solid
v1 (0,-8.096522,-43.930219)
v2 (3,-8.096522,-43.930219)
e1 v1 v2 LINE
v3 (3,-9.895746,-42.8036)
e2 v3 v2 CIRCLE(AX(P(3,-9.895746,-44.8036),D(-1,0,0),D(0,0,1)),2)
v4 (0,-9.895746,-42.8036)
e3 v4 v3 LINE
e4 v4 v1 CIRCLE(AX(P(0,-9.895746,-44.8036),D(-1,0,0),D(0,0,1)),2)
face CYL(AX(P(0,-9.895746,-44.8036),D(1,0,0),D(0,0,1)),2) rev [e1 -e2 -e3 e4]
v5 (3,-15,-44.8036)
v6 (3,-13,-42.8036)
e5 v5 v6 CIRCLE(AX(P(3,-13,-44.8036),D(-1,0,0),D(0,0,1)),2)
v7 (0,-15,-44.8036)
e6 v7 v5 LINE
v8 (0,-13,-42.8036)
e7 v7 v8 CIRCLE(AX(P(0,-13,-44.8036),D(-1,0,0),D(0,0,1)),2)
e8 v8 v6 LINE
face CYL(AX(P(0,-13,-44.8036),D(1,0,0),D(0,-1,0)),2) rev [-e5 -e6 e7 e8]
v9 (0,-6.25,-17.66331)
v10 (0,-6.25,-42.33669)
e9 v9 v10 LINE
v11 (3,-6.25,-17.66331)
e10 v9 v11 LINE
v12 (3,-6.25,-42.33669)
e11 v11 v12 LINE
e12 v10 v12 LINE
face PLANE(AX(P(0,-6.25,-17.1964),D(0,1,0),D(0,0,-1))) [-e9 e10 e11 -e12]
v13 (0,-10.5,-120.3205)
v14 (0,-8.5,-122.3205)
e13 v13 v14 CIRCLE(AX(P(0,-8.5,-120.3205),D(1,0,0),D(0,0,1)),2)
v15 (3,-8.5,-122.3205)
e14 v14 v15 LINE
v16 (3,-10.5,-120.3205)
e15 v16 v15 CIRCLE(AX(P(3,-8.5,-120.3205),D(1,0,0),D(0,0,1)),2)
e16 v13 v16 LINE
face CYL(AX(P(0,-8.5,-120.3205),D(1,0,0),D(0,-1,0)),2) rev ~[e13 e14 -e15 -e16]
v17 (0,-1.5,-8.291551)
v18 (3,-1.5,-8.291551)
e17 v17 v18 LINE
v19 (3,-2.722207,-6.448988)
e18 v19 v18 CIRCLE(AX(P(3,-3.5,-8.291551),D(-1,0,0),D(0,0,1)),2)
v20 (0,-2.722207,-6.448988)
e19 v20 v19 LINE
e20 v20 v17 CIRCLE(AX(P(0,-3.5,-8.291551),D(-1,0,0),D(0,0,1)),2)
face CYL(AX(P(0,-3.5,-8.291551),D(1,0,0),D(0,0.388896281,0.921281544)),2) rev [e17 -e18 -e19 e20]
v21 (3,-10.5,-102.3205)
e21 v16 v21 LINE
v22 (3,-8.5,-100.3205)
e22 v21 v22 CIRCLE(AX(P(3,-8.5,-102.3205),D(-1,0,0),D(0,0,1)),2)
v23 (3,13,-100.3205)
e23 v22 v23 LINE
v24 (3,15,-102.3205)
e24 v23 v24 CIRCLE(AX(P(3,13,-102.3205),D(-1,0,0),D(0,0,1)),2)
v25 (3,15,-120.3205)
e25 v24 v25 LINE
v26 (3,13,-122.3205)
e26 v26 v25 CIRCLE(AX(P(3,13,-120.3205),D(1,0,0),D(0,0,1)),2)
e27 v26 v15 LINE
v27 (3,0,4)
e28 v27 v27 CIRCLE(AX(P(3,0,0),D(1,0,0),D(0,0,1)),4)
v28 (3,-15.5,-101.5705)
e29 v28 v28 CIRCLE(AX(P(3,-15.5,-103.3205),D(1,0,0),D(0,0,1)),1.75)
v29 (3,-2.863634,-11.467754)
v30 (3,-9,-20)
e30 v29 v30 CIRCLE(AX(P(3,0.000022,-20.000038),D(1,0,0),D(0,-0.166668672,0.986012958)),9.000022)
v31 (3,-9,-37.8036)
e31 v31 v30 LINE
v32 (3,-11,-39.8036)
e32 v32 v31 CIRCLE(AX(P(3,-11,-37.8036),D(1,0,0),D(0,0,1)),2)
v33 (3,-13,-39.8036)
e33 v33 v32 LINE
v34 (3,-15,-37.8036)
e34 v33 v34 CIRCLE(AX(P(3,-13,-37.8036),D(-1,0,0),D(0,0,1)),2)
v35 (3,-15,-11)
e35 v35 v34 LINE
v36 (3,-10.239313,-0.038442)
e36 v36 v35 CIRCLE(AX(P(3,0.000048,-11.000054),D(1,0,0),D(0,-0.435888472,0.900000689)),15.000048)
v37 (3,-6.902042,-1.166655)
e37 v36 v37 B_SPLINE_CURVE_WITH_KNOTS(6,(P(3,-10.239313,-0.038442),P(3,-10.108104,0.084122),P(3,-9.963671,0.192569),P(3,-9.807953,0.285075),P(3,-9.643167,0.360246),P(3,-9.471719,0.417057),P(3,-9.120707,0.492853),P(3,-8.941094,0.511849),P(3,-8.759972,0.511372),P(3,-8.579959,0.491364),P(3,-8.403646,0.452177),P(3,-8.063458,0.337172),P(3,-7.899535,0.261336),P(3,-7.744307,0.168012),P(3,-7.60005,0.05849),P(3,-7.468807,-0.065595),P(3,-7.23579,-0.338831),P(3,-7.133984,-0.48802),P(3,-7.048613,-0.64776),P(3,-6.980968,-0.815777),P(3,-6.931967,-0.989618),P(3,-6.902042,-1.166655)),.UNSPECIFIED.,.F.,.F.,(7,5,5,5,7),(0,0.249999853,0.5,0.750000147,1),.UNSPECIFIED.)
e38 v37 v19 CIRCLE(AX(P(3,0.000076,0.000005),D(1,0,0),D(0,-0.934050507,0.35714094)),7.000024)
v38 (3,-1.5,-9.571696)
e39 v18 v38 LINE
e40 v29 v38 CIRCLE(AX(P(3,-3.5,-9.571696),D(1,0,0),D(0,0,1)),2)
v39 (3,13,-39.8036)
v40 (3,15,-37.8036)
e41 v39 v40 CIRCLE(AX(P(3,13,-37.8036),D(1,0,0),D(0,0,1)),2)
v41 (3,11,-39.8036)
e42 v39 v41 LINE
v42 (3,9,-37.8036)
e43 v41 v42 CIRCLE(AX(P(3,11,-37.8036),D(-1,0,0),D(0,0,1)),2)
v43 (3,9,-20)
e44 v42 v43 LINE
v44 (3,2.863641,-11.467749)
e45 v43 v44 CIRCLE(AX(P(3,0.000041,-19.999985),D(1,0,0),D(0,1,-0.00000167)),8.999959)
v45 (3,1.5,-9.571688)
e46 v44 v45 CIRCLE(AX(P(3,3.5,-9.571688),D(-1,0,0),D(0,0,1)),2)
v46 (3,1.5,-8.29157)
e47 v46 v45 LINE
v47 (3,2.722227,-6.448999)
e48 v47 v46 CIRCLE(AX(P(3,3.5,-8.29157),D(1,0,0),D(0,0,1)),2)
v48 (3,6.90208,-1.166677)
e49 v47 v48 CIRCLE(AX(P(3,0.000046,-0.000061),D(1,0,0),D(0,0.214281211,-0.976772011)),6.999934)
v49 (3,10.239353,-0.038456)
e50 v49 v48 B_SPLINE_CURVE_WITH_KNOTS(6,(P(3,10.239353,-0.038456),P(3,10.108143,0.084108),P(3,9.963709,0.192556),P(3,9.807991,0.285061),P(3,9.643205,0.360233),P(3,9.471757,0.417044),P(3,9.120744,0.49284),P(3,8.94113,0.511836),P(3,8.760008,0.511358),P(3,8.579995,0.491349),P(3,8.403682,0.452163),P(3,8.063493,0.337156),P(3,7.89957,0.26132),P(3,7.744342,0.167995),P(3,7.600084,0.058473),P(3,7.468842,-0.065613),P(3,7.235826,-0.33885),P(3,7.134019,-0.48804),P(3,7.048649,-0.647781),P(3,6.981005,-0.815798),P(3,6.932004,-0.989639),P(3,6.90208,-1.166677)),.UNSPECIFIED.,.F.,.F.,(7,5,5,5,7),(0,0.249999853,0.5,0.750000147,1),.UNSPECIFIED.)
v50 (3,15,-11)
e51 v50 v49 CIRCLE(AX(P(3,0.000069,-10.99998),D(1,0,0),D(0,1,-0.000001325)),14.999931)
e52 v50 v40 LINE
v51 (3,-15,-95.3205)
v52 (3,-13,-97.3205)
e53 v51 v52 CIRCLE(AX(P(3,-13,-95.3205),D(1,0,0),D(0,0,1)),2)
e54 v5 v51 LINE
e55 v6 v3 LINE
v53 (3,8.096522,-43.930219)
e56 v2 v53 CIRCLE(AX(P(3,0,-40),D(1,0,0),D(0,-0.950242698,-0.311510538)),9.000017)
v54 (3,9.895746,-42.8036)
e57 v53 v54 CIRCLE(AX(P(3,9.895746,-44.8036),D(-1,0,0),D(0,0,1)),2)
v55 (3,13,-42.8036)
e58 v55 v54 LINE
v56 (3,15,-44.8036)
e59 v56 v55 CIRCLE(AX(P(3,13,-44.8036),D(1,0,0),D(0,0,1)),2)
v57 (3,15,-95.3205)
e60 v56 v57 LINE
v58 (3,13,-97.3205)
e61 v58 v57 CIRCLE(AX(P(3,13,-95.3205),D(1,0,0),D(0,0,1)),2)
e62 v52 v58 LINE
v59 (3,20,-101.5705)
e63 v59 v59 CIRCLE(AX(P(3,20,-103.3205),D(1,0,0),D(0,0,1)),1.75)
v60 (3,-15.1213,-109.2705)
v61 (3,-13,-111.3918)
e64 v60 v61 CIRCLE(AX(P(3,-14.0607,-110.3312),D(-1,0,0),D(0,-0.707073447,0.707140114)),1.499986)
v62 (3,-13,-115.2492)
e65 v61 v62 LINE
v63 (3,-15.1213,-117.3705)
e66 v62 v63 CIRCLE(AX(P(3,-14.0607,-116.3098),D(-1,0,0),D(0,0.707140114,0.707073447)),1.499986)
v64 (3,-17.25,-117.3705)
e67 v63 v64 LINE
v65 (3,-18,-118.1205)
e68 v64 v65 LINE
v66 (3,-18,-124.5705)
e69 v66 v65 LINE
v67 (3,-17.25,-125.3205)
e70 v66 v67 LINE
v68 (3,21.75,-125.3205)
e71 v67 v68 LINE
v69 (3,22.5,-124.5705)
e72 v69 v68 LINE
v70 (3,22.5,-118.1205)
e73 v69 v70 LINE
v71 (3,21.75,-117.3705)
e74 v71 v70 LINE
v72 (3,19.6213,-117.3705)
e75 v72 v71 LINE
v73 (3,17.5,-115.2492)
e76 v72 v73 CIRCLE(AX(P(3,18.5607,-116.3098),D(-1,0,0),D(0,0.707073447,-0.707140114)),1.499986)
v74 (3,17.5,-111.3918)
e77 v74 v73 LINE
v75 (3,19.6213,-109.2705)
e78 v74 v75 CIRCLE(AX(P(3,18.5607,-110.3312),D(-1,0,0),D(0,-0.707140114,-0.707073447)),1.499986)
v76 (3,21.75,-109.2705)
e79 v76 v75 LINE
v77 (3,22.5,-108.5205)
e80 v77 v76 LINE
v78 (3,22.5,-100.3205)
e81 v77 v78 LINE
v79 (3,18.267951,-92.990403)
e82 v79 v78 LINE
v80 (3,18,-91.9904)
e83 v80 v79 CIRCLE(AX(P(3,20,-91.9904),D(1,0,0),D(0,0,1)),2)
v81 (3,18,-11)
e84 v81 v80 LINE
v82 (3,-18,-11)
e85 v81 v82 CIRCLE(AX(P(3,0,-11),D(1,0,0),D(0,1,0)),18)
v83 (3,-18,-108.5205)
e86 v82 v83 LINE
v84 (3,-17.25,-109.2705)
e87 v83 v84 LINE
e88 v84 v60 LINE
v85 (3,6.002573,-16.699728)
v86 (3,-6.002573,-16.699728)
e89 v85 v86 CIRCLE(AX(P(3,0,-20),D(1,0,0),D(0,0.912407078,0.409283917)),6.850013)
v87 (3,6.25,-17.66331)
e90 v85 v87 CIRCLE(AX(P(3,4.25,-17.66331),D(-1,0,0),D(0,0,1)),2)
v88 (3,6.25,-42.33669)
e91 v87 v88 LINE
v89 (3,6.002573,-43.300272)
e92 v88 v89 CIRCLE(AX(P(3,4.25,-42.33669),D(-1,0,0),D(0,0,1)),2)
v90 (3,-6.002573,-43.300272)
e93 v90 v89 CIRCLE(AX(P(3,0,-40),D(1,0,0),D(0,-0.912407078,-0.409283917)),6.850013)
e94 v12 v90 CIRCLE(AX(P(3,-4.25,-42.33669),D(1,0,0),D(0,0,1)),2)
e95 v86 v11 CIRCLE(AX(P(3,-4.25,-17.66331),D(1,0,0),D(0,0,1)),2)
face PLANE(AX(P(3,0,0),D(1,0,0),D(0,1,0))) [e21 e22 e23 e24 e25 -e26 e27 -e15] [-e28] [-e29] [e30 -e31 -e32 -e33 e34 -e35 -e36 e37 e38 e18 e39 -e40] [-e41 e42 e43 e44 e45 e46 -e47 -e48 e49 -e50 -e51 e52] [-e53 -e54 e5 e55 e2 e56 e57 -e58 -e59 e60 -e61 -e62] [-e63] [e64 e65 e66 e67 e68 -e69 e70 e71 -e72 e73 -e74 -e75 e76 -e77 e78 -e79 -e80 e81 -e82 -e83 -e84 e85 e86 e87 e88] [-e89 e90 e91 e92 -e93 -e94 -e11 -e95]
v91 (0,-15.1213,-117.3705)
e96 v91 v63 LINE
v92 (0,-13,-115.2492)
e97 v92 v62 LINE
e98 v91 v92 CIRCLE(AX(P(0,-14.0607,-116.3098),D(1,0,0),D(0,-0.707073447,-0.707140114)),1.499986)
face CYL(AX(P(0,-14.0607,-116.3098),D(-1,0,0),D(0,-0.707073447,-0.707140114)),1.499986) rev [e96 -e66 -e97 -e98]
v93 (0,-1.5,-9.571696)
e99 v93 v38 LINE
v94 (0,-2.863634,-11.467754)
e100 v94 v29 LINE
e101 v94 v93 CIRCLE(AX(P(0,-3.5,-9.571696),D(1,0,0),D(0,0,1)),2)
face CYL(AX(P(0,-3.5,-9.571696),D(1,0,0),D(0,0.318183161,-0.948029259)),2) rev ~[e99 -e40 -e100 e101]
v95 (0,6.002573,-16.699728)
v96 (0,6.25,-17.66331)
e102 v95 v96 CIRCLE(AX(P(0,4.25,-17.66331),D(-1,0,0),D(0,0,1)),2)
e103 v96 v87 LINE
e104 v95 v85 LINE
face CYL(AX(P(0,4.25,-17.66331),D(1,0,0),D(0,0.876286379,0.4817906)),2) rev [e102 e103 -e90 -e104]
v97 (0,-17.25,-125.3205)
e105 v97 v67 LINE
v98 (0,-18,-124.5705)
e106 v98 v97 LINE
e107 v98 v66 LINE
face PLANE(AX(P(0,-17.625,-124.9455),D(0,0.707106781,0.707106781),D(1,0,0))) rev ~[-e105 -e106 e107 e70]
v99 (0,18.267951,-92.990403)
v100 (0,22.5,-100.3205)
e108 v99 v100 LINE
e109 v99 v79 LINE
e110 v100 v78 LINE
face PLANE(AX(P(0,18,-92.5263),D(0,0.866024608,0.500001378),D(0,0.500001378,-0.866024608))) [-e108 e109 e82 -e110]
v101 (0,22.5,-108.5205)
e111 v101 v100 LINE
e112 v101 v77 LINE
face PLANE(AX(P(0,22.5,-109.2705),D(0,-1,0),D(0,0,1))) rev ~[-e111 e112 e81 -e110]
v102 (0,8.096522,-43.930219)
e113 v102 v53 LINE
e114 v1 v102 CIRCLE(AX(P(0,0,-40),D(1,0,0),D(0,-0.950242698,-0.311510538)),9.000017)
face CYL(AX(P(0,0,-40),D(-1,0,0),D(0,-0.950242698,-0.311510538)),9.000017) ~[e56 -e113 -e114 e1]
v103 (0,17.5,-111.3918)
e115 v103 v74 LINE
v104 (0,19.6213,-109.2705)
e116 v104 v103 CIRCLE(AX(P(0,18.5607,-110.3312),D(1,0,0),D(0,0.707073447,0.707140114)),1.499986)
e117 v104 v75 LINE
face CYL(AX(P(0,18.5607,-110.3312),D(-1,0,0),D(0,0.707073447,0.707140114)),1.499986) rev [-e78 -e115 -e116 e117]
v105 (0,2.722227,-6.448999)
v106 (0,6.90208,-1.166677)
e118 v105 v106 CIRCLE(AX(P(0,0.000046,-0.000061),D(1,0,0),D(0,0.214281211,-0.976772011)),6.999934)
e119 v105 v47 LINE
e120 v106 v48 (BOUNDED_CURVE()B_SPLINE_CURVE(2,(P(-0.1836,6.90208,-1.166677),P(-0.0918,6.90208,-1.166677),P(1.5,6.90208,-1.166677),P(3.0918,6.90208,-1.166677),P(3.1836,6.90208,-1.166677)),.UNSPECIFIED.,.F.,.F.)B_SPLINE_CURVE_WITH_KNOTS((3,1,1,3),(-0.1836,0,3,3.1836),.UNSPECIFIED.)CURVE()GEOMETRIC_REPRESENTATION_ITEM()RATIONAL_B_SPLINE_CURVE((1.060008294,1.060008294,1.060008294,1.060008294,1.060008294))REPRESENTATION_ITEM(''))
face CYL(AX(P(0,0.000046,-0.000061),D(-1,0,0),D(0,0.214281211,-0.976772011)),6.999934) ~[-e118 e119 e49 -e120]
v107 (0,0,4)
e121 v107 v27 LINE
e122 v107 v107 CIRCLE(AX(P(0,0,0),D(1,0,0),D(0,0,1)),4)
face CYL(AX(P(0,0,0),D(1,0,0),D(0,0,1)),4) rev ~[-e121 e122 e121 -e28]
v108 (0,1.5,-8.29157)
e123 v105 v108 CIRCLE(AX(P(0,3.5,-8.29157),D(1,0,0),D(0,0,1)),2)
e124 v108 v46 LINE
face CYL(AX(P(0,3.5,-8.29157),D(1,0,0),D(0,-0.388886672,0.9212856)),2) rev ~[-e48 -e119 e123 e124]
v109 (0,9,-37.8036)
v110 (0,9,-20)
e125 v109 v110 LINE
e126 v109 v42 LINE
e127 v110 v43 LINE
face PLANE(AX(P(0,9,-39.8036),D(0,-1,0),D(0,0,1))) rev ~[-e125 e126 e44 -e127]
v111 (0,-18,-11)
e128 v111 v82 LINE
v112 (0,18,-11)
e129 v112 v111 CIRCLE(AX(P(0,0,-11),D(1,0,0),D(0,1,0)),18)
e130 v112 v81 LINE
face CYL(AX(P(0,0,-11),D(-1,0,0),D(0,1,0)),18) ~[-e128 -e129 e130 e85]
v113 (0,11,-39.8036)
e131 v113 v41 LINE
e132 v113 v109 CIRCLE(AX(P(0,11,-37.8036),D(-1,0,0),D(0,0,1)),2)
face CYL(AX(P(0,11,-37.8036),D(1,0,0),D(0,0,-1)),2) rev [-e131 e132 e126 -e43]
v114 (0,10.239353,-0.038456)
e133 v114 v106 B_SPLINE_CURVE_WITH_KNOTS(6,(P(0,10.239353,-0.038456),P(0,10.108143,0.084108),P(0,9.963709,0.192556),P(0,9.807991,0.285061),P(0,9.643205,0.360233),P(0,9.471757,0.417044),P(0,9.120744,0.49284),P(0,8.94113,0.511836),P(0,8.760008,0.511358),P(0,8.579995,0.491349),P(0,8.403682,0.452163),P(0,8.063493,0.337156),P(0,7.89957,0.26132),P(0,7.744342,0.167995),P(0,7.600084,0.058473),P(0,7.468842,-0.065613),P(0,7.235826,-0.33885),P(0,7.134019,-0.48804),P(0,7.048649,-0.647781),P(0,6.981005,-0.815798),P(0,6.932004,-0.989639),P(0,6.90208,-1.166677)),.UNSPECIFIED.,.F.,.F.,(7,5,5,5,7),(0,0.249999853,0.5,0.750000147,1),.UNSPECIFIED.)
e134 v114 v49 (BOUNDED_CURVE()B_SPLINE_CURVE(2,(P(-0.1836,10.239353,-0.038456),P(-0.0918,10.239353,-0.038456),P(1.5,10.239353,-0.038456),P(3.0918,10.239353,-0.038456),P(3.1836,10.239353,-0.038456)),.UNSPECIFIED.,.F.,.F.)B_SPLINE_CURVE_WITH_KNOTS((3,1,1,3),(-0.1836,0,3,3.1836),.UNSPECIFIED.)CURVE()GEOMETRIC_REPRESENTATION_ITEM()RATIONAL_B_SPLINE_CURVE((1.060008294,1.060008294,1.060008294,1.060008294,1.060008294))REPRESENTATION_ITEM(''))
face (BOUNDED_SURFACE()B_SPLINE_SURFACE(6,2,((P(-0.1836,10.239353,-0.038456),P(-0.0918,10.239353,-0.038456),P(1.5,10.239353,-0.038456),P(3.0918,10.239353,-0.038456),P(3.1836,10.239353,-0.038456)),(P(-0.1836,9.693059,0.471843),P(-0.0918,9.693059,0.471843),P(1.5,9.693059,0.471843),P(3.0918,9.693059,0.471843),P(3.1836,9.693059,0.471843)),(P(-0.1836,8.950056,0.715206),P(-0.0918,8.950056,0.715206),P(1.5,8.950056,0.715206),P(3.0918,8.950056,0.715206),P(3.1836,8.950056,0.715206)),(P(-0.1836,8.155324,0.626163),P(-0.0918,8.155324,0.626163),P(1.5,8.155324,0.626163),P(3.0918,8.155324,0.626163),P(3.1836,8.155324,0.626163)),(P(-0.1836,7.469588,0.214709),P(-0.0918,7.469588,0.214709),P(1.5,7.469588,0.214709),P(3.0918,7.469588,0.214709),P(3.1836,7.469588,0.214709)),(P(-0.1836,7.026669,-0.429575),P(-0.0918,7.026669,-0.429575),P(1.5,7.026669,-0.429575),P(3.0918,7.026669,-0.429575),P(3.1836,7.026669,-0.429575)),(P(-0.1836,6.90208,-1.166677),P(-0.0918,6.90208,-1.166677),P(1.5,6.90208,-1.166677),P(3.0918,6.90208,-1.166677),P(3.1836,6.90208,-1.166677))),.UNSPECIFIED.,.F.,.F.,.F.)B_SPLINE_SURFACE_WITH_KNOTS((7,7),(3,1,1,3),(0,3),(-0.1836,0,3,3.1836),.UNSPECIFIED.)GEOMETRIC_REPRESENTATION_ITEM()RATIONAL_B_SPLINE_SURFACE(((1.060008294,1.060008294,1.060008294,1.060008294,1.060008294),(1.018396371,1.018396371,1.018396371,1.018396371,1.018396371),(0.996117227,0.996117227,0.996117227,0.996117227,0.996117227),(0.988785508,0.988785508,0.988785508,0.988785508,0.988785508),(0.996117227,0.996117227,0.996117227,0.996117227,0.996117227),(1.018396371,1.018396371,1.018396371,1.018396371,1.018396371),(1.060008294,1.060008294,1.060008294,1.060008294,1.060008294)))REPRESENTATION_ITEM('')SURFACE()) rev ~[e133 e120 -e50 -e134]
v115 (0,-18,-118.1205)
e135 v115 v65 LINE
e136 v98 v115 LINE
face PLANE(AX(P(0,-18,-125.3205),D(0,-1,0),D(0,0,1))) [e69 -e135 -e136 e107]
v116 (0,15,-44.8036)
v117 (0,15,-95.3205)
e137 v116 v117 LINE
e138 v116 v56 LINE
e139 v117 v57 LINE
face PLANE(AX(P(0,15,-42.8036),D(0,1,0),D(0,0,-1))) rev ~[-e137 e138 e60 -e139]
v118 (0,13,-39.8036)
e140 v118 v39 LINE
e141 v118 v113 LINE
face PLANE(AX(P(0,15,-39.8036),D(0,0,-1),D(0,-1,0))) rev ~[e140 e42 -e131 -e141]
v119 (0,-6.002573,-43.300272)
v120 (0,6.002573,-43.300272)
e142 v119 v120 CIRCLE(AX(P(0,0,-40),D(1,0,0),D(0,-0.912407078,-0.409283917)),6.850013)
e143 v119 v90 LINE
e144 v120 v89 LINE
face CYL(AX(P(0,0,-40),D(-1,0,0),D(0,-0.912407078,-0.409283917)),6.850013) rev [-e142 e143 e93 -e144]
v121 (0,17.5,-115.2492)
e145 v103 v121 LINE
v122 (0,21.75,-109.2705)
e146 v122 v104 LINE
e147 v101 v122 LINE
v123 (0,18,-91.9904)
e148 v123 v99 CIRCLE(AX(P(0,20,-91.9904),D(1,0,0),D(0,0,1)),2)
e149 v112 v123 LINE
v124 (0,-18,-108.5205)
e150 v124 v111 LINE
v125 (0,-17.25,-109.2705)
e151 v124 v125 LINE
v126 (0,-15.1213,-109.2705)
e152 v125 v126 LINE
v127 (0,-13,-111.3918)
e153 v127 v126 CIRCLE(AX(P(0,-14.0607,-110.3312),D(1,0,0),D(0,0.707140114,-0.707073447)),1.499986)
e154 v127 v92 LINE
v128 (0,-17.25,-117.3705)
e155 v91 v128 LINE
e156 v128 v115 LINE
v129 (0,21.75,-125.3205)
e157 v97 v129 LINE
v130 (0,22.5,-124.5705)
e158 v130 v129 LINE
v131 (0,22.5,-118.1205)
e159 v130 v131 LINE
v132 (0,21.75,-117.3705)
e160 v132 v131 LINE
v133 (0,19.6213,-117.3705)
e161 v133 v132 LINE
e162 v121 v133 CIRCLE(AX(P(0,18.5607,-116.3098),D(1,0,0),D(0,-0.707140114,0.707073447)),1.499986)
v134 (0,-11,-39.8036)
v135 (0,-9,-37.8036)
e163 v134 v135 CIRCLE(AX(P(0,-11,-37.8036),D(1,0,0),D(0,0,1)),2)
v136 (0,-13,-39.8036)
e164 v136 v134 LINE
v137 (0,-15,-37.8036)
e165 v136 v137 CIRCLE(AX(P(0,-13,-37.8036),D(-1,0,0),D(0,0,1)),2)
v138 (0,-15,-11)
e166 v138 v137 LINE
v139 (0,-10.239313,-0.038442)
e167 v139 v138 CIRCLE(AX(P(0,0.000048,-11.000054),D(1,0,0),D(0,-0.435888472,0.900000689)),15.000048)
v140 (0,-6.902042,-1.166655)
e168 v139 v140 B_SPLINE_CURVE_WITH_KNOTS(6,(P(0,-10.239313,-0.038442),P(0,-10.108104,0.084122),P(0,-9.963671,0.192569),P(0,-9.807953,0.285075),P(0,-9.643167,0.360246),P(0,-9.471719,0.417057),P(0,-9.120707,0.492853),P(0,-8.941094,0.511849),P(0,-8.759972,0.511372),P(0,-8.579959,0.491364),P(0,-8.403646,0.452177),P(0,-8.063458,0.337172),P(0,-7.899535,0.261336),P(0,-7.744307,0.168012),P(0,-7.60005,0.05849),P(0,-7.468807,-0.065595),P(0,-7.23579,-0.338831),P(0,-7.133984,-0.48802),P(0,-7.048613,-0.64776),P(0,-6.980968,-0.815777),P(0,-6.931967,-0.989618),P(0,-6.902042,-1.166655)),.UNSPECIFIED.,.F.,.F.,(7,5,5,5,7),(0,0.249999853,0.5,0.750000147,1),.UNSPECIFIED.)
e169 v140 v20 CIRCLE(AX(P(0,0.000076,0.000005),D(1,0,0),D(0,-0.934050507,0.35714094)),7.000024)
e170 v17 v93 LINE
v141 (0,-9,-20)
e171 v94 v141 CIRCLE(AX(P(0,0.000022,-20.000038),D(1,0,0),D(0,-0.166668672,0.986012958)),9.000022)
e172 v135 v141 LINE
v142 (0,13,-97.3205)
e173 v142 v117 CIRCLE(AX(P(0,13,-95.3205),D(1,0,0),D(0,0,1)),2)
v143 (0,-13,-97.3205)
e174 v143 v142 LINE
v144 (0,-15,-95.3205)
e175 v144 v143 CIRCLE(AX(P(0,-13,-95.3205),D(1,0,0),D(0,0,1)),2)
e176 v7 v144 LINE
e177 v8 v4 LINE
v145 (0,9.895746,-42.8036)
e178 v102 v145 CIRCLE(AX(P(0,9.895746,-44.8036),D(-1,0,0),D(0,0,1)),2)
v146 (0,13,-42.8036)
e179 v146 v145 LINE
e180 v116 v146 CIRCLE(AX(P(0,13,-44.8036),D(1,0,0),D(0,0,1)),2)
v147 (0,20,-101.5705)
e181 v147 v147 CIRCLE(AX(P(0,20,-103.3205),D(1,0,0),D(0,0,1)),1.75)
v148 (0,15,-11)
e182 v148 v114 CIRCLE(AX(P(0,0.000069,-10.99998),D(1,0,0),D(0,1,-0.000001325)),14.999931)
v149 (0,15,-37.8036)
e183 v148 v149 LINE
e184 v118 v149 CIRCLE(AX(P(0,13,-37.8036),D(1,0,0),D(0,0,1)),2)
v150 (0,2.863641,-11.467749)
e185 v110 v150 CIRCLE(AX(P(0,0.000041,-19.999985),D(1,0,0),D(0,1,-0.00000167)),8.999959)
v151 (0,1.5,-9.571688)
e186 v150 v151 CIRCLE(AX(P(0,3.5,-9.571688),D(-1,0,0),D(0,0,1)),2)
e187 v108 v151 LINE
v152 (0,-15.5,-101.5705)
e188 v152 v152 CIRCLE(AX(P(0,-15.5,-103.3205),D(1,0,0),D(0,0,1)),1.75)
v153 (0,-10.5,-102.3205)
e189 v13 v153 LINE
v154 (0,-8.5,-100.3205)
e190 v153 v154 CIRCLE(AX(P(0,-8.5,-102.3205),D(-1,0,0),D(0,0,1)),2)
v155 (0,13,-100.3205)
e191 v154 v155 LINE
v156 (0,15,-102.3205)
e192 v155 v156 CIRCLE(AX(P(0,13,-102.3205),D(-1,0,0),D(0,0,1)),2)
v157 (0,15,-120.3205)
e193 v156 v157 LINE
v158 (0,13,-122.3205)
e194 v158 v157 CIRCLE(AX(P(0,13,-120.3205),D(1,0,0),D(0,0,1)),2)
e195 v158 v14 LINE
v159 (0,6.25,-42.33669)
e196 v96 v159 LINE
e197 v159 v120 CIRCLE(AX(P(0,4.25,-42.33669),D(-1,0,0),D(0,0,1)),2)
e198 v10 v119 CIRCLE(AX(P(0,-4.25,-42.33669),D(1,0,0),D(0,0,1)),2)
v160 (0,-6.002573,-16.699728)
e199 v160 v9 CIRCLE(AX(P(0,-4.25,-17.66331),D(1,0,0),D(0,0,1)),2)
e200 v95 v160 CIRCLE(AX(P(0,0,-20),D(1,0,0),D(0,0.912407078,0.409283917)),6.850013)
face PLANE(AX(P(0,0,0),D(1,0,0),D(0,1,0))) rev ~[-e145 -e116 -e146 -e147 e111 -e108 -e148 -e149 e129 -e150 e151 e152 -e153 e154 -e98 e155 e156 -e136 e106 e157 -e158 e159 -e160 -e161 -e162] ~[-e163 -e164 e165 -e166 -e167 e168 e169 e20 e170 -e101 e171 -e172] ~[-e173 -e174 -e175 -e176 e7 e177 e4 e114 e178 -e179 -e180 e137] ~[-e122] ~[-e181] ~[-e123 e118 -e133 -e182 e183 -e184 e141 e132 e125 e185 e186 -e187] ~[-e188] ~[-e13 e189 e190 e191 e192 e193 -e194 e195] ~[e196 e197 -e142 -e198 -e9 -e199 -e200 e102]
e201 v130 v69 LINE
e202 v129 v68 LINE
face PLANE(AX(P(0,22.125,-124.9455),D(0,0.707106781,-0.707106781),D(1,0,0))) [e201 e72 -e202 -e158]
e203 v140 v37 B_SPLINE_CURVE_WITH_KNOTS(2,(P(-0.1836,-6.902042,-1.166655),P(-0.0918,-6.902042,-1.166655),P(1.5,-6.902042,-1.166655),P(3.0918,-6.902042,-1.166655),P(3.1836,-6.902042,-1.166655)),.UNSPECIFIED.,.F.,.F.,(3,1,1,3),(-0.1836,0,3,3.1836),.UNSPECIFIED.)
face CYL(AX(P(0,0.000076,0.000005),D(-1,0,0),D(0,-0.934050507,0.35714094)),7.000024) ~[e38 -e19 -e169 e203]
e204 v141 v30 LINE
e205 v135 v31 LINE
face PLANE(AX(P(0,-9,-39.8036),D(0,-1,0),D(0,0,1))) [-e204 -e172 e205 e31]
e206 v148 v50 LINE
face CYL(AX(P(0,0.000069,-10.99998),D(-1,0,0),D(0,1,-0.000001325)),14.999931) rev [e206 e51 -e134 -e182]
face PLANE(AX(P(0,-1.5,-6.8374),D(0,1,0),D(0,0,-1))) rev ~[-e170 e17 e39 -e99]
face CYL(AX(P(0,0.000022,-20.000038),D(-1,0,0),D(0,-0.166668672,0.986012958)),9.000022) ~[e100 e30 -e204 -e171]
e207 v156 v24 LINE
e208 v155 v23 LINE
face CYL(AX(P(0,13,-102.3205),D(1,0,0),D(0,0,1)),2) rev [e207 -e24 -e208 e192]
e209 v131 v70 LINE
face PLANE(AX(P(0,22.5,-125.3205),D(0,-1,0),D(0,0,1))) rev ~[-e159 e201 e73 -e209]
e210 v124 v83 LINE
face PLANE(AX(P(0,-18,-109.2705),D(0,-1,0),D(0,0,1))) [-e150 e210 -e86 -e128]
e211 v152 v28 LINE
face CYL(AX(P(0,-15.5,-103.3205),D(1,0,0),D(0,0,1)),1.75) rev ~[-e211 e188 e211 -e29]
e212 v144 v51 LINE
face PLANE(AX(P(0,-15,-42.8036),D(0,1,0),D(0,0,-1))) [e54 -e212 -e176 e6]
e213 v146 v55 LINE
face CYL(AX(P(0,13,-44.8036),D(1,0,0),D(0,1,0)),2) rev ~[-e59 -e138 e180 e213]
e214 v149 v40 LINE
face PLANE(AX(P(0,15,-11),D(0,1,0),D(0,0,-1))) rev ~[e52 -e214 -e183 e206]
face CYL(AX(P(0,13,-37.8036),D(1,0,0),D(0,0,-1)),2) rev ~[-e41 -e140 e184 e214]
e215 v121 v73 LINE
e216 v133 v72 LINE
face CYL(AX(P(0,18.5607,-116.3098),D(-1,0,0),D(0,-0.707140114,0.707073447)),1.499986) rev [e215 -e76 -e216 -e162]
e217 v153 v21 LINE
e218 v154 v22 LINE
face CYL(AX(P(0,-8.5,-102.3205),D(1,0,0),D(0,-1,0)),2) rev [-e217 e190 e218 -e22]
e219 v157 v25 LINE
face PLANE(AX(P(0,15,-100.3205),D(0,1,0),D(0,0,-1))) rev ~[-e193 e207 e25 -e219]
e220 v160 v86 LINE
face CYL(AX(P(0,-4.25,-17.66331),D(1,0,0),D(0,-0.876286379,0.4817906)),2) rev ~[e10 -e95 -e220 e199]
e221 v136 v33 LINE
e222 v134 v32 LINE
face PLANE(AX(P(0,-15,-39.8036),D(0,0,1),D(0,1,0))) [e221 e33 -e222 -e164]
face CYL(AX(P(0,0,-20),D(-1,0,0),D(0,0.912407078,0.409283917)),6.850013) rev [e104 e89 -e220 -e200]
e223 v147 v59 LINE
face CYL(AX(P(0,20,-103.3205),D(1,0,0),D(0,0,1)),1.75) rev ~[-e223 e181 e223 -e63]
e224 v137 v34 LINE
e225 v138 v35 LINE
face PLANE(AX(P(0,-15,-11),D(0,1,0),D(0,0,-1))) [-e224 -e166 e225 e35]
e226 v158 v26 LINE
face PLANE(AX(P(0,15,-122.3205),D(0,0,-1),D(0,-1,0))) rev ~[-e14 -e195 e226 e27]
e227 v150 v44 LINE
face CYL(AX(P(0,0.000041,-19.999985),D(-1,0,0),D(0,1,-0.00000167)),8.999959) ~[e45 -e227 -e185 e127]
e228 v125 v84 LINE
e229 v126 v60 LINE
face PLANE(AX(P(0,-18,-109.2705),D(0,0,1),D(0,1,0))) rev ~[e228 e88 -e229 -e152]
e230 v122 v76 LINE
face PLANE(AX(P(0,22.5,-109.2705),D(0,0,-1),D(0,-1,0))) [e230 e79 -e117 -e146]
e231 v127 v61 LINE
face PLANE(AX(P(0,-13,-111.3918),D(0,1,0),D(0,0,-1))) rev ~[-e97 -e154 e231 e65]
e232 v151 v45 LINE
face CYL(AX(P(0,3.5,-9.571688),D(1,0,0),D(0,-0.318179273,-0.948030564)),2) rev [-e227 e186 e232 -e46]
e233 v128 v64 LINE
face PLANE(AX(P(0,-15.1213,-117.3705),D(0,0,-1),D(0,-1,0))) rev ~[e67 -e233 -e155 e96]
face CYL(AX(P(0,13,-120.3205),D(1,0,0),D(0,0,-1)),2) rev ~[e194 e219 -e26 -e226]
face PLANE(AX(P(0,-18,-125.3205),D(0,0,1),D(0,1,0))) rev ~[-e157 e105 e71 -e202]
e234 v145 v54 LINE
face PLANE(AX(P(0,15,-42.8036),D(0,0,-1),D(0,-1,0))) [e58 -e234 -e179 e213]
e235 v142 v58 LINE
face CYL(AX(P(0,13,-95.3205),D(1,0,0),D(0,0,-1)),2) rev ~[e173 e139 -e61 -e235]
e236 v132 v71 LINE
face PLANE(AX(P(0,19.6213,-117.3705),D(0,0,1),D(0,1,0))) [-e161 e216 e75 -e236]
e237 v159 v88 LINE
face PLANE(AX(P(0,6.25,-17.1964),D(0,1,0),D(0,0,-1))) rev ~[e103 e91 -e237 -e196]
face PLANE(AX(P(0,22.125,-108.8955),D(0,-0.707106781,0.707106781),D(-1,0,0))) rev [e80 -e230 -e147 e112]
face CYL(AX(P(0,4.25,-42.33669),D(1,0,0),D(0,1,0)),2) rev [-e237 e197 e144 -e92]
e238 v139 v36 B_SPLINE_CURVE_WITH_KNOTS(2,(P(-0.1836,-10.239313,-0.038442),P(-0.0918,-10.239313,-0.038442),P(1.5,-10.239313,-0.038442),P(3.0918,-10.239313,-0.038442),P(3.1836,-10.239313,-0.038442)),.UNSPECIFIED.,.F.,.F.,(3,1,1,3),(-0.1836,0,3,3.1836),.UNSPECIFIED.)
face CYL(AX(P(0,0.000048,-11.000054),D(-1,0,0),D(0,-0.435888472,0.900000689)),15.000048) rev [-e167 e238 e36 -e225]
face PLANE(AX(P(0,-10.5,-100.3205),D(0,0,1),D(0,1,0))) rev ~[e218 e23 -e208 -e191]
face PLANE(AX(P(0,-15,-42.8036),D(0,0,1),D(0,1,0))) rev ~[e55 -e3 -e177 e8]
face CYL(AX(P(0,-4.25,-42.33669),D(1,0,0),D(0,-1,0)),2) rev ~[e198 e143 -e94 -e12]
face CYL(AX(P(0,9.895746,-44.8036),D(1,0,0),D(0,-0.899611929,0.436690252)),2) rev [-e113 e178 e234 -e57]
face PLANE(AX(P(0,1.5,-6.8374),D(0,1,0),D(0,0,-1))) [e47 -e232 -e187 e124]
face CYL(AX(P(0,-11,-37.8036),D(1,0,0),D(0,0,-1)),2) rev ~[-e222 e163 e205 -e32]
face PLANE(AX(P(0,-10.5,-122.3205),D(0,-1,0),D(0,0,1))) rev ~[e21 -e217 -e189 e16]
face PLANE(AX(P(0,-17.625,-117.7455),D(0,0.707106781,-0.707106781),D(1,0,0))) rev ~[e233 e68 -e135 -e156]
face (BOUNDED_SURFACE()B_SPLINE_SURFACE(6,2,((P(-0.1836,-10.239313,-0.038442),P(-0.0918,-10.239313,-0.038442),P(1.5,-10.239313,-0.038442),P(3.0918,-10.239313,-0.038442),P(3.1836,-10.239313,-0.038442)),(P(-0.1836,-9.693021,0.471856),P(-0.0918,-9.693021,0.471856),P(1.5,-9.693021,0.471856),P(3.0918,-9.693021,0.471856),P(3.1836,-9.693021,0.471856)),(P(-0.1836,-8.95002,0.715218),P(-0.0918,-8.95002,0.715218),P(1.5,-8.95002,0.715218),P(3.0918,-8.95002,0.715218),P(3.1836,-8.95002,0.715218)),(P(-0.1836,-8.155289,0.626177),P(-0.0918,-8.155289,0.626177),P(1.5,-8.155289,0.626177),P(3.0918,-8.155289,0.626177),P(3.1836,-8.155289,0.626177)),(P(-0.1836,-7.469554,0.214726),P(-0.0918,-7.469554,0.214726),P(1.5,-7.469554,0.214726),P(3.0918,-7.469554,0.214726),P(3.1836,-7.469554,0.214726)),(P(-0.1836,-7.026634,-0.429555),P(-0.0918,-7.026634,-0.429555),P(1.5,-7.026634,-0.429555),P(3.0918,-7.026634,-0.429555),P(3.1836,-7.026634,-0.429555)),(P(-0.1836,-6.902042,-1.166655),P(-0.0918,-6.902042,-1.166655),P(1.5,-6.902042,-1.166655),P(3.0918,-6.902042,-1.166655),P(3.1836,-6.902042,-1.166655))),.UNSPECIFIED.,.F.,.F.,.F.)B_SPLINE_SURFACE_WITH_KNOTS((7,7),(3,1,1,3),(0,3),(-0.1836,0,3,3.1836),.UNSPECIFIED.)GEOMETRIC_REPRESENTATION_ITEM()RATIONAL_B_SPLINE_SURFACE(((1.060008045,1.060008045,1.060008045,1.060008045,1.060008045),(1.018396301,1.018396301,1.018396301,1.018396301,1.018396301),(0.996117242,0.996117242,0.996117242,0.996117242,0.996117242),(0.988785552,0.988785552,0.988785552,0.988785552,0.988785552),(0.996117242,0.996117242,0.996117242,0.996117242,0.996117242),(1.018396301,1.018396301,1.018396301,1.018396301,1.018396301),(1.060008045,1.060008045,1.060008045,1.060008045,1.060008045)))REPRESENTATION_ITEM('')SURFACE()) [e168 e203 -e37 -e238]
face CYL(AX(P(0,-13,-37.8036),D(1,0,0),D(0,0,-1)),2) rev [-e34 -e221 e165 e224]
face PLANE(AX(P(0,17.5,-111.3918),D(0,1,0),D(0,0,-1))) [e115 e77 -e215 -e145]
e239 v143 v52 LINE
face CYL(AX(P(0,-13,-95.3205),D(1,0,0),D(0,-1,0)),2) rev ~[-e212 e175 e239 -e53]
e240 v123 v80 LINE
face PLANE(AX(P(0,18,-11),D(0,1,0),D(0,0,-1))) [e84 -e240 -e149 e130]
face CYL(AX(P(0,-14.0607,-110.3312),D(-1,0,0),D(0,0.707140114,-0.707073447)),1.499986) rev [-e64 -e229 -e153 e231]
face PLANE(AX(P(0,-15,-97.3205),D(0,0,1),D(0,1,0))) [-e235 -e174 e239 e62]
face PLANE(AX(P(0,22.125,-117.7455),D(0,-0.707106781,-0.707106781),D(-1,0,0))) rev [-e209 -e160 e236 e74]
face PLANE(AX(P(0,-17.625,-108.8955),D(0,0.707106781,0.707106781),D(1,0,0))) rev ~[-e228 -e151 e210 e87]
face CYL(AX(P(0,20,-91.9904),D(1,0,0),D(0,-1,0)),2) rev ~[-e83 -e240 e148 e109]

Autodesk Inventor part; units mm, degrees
ref_plane "YZ Plane" through (0, 0, 0) normal (1, 0, 0) x (0, 1, 0)
ref_plane "XZ Plane" through (0, 0, 0) normal (0, 1, 0) x (-1, 0, 0)
ref_plane "XY Plane" through (0, 0, 0) normal (0, 0, 1) x (1, 0, 0)
sketch "Sketch1" plane through (0, 0, 0) normal (1, 0, 0) x (0, 1, 0)
  arc A0 (6.25, -17.1964) -> (-6.25, -17.1964) centre (0, -20) ccw
  line L0 (-6.25, -17.1964) -> (-6.25, -42.8036)
  line L1 (-6.25, -30) -> (6.25, -30) construction
  line L2 (0, 0) -> (0, -137.3205) construction
  arc A1 (-6.25, -42.8036) -> (6.25, -42.8036) centre (0, -40) ccw
  circle A2 centre (0, 0) radius 40 construction
  circle A3 centre (0, -20) radius 20 construction
  line L3 (6.25, -17.1964) -> (6.25, -42.8036)
  line L4 (0, 0) -> (17.3205, -10) construction
  line L5 (17.3205, -10) -> (34.641, -20) construction
  line L6 (-25, -137.3205) -> (25, -137.3205) construction
  line L7 (-18, -125.3205) -> (-18, -29)
  line L8 (22.5, -125.3205) -> (22.5, -100.3205)
  line L9 (-25, -120) -> (25, -120) construction
  line L10 (25, -120) -> (25, -137.3205) construction
  line L11 (-25, -120) -> (-25, -137.3205) construction
  line L12 (22.5, -109.2705) -> (17.5, -109.2705)
  line L13 (17.5, -109.2705) -> (17.5, -117.3705)
  line L14 (17.5, -117.3705) -> (22.5, -117.3705)
  line L15 (-15, -106.3205) -> (17.5, -106.3205) construction
  line L16 (17.5, -106.3205) -> (17.5, -149.3205) construction
  line L17 (17.5, -149.3205) -> (-15, -149.3205) construction
  line L18 (-15, -149.3205) -> (-15, -106.3205) construction
  line L19 (-15, -106.3205) -> (17.5, -149.3205) construction
  line L20 (17.5, -106.3205) -> (-15, -149.3205) construction
  line L21 (1.25, -106.3205) -> (1.25, -149.3205) construction
  line L22 (22.5, -109.3205) -> (17.5, -109.3205) construction
  line L23 (17.5, -117.3205) -> (22.5, -117.3205) construction
  line L24 (17.5, -113.3205) -> (22.5, -113.3205) construction
  line L25 (-18, -100.3205) -> (22.5, -100.3205) construction
  circle A4 centre (0, 0) radius 4 construction
  circle A5 centre (20, -103.3205) radius 1.75 construction
  line L26 (20, -103.3205) -> (20, -123.3205) construction
  circle A6 centre (20, -123.3205) radius 1.75 construction
  line L27 (-18, -109.2705) -> (-13, -109.2705)
  line L28 (-13, -109.2705) -> (-13, -117.3705)
  line L29 (-13, -117.3705) -> (-18, -117.3705)
  line L30 (-15.5, -103.3205) -> (-15.5, -123.3205) construction
  line L31 (-15.5, -103.3205) -> (20, -103.3205) construction
  line L32 (-15.5, -123.3205) -> (20, -123.3205) construction
  arc A7 (-4.4, -42.3749) -> (4.4, -42.3749) centre (0, -40) ccw construction
  arc A8 (4.4, -17.6251) -> (-4.4, -17.6251) centre (0, -20) ccw construction
  line L33 (-4.4, -17.6251) -> (-4.4, -42.3749) construction
  line L34 (4.4, -42.3749) -> (4.4, -17.6251) construction
  line L35 (-18, -29) -> (-18, -11)
  circle A9 centre (0, 0) radius 7 construction
  arc A10 (18, -11) -> (-18, -11) centre (0, -11) ccw
  line L36 (18, -11) -> (18, -92.5263)
  line L37 (18, -92.5263) -> (22.5, -100.3205)
  line L38 (-15, -42.8036) -> (-15, -97.3205)
  line L39 (-15, -97.3205) -> (15, -97.3205)
  line L40 (15, -42.8036) -> (15, -97.3205)
  line L41 (-10.5, -100.3205) -> (15, -100.3205)
  line L42 (15, -100.3205) -> (15, -122.3205)
  line L43 (15, -122.3205) -> (-10.5, -122.3205)
  line L44 (-10.5, -122.3205) -> (-10.5, -100.3205)
  line L45 (-15, -39.8036) -> (-9, -39.8036)
  arc A11 (-6.5383, 2.5) -> (-15, -11) centre (0, -11) ccw
  arc A12 (-6.5383, 2.5) -> (-1.5, -6.8374) centre (0, 0) ccw
  line L46 (-15, -11) -> (-15, -39.8036)
  line L47 (9, -39.8036) -> (9, -20)
  line L48 (15, -39.8036) -> (9, -39.8036)
  arc A13 (15, -11) -> (6.5383, 2.5) centre (0, -11) ccw
  arc A14 (1.5, -6.8374) -> (6.5383, 2.5) centre (0, 0) ccw
  line L49 (15, -11) -> (15, -39.8036)
  arc A15 (-8.5522, -42.8036) -> (8.5522, -42.8036) centre (0, -40) ccw
  line L50 (-15, -42.8036) -> (-8.5522, -42.8036)
  line L51 (-9, -39.8036) -> (-9, -20)
  arc A16 (-1.5, -11.1259) -> (-9, -20) centre (0, -20) ccw
  line L52 (-1.5, -6.8374) -> (-1.5, -11.1259)
  line L53 (15, -42.8036) -> (8.5522, -42.8036)
  arc A17 (9, -20) -> (1.5, -11.1259) centre (0, -20) ccw
  line L54 (1.5, -6.8374) -> (1.5, -11.1259)
  line L55 (-18, -137.3205) -> (-18, -100.3205) construction
  circle A18 centre (-15.5, -103.3205) radius 1.75 construction
  line L56 (22.5, -100.3205) -> (22.5, -137.3205) construction
  line L57 (-18, -125.3205) -> (22.5, -125.3205)
  arc A19 (19.6213, -109.2705) -> (17.5, -111.3918) centre (18.5607, -110.3312) ccw
  arc A20 (17.5, -115.2492) -> (19.6213, -117.3705) centre (18.5607, -116.3098) ccw
  arc A21 (-13, -111.3918) -> (-15.1213, -109.2705) centre (-14.0607, -110.3312) ccw
  arc A22 (-15.1213, -117.3705) -> (-13, -115.2492) centre (-14.0607, -116.3098) ccw
  line L58 (2.25, -122.3205) -> (2.25, -100.3205) construction
  point P0 (5.3819, -44.2376)
  point P1 (6.25, -41.5156)
  point P2 (17.5, -112.2705)
  point P3 (17.5, -114.3705)
  point P4 (1.25, -127.8205)
  point P5 (-13, -111.3918)
  point P6 (-13, -114.8191)
  point P7 (9, -20)
  point P8 (-13, -115.2492)
  point P9 (19.6213, -117.3705)
  point P10 (17.5, -115.2492)
  point P11 (17.5, -111.3918)
  dimension "d2" = 12.5
  dimension "d3" = 60
  dimension "d4" = 20
  dimension "d5" = 20
  dimension "d6" = 20
  dimension "d12" = 17.3205
  dimension "d13" = 120
  dimension "d17" = 32.5
  dimension "d18" = 43
  dimension "d19" = 9.5
  dimension "d21" = 0.05
  dimension "d24" = 3
  dimension "d25" = 9
  dimension "d26" = 6
  dimension "d36" = 8
  dimension "d48" = 50
  dimension "d50" = 3
  dimension "d51" = 3.5
  dimension "d56" = 8.8
  dimension "d57" = 5
  dimension "d58" = 1.85
  dimension "d59" = 1.85
  dimension "d65" = 14
  dimension "d66" = 30
  dimension "d70" = 3
  dimension "d74" = 3
  dimension "d81" = 7
  dimension "d82" = 5
  dimension "d85" = 5
  dimension "d86" = 2.5
  dimension "d91" = 8
  dimension "d92" = 8
  dimension "d93" = 3
  dimension "d95" = 3
  dimension "d96" = 3
  dimension "d97" = 9
  dimension "d99" = 1.5
extrude "Extrusion1" add sketch "Sketch1" along normal blind 3 contours L7 L29 A22 L28 A21 L27 L35 A10 L36 L37 L8 L12 A19 L13 A20 L14 L57
hole "Phi8.0-H7" at (0, 0, 0) direction (1, 0, 0) diameter 8 end through all
hole "Phi3.5" at (0, 20, -103.3205) at (0, -15.5, -103.3205) direction (1, 0, 0) diameter 3.5 end through all
fillet "R2" radius 2 25 edges at (1.5, -6.25, -17.1964) (1.5, -6.25, -42.8036) (1.5, 6.25, -42.8036) (1.5, 6.25, -17.1964) (1.5, 18, -92.5263) (1.5, -6.5383, 2.5) (1.5, -1.5, -6.8374) (1.5, 1.5, -6.8374) (1.5, 6.5383, 2.5) (1.5, -1.5, -11.1259) (1.5, 1.5, -11.1259) (1.5, -15, -39.8036) (1.5, -9, -39.8036) (1.5, 9, -39.8036) (1.5, 15, -39.8036) (1.5, 15, -97.3205) (1.5, -15, -97.3205) (1.5, -15, -42.8036) (1.5, -8.5522, -42.8036) (1.5, 8.5522, -42.8036) (1.5, 15, -42.8036) (1.5, 15, -122.3205) (1.5, 15, -100.3205) (1.5, -10.5, -100.3205) (1.5, -10.5, -122.3205)
chamfer "C0.5" distance 0.75 angle 45 6 edges at (1.5, 22.5, -109.2705) (1.5, 22.5, -117.3705) (1.5, -18, -117.3705) (1.5, -18, -109.2705) (1.5, -18, -125.3205) (1.5, 22.5, -125.3205)
equation "\"d6\" = d4"
properties part number "UpperArmFrame" material "CFRP"
